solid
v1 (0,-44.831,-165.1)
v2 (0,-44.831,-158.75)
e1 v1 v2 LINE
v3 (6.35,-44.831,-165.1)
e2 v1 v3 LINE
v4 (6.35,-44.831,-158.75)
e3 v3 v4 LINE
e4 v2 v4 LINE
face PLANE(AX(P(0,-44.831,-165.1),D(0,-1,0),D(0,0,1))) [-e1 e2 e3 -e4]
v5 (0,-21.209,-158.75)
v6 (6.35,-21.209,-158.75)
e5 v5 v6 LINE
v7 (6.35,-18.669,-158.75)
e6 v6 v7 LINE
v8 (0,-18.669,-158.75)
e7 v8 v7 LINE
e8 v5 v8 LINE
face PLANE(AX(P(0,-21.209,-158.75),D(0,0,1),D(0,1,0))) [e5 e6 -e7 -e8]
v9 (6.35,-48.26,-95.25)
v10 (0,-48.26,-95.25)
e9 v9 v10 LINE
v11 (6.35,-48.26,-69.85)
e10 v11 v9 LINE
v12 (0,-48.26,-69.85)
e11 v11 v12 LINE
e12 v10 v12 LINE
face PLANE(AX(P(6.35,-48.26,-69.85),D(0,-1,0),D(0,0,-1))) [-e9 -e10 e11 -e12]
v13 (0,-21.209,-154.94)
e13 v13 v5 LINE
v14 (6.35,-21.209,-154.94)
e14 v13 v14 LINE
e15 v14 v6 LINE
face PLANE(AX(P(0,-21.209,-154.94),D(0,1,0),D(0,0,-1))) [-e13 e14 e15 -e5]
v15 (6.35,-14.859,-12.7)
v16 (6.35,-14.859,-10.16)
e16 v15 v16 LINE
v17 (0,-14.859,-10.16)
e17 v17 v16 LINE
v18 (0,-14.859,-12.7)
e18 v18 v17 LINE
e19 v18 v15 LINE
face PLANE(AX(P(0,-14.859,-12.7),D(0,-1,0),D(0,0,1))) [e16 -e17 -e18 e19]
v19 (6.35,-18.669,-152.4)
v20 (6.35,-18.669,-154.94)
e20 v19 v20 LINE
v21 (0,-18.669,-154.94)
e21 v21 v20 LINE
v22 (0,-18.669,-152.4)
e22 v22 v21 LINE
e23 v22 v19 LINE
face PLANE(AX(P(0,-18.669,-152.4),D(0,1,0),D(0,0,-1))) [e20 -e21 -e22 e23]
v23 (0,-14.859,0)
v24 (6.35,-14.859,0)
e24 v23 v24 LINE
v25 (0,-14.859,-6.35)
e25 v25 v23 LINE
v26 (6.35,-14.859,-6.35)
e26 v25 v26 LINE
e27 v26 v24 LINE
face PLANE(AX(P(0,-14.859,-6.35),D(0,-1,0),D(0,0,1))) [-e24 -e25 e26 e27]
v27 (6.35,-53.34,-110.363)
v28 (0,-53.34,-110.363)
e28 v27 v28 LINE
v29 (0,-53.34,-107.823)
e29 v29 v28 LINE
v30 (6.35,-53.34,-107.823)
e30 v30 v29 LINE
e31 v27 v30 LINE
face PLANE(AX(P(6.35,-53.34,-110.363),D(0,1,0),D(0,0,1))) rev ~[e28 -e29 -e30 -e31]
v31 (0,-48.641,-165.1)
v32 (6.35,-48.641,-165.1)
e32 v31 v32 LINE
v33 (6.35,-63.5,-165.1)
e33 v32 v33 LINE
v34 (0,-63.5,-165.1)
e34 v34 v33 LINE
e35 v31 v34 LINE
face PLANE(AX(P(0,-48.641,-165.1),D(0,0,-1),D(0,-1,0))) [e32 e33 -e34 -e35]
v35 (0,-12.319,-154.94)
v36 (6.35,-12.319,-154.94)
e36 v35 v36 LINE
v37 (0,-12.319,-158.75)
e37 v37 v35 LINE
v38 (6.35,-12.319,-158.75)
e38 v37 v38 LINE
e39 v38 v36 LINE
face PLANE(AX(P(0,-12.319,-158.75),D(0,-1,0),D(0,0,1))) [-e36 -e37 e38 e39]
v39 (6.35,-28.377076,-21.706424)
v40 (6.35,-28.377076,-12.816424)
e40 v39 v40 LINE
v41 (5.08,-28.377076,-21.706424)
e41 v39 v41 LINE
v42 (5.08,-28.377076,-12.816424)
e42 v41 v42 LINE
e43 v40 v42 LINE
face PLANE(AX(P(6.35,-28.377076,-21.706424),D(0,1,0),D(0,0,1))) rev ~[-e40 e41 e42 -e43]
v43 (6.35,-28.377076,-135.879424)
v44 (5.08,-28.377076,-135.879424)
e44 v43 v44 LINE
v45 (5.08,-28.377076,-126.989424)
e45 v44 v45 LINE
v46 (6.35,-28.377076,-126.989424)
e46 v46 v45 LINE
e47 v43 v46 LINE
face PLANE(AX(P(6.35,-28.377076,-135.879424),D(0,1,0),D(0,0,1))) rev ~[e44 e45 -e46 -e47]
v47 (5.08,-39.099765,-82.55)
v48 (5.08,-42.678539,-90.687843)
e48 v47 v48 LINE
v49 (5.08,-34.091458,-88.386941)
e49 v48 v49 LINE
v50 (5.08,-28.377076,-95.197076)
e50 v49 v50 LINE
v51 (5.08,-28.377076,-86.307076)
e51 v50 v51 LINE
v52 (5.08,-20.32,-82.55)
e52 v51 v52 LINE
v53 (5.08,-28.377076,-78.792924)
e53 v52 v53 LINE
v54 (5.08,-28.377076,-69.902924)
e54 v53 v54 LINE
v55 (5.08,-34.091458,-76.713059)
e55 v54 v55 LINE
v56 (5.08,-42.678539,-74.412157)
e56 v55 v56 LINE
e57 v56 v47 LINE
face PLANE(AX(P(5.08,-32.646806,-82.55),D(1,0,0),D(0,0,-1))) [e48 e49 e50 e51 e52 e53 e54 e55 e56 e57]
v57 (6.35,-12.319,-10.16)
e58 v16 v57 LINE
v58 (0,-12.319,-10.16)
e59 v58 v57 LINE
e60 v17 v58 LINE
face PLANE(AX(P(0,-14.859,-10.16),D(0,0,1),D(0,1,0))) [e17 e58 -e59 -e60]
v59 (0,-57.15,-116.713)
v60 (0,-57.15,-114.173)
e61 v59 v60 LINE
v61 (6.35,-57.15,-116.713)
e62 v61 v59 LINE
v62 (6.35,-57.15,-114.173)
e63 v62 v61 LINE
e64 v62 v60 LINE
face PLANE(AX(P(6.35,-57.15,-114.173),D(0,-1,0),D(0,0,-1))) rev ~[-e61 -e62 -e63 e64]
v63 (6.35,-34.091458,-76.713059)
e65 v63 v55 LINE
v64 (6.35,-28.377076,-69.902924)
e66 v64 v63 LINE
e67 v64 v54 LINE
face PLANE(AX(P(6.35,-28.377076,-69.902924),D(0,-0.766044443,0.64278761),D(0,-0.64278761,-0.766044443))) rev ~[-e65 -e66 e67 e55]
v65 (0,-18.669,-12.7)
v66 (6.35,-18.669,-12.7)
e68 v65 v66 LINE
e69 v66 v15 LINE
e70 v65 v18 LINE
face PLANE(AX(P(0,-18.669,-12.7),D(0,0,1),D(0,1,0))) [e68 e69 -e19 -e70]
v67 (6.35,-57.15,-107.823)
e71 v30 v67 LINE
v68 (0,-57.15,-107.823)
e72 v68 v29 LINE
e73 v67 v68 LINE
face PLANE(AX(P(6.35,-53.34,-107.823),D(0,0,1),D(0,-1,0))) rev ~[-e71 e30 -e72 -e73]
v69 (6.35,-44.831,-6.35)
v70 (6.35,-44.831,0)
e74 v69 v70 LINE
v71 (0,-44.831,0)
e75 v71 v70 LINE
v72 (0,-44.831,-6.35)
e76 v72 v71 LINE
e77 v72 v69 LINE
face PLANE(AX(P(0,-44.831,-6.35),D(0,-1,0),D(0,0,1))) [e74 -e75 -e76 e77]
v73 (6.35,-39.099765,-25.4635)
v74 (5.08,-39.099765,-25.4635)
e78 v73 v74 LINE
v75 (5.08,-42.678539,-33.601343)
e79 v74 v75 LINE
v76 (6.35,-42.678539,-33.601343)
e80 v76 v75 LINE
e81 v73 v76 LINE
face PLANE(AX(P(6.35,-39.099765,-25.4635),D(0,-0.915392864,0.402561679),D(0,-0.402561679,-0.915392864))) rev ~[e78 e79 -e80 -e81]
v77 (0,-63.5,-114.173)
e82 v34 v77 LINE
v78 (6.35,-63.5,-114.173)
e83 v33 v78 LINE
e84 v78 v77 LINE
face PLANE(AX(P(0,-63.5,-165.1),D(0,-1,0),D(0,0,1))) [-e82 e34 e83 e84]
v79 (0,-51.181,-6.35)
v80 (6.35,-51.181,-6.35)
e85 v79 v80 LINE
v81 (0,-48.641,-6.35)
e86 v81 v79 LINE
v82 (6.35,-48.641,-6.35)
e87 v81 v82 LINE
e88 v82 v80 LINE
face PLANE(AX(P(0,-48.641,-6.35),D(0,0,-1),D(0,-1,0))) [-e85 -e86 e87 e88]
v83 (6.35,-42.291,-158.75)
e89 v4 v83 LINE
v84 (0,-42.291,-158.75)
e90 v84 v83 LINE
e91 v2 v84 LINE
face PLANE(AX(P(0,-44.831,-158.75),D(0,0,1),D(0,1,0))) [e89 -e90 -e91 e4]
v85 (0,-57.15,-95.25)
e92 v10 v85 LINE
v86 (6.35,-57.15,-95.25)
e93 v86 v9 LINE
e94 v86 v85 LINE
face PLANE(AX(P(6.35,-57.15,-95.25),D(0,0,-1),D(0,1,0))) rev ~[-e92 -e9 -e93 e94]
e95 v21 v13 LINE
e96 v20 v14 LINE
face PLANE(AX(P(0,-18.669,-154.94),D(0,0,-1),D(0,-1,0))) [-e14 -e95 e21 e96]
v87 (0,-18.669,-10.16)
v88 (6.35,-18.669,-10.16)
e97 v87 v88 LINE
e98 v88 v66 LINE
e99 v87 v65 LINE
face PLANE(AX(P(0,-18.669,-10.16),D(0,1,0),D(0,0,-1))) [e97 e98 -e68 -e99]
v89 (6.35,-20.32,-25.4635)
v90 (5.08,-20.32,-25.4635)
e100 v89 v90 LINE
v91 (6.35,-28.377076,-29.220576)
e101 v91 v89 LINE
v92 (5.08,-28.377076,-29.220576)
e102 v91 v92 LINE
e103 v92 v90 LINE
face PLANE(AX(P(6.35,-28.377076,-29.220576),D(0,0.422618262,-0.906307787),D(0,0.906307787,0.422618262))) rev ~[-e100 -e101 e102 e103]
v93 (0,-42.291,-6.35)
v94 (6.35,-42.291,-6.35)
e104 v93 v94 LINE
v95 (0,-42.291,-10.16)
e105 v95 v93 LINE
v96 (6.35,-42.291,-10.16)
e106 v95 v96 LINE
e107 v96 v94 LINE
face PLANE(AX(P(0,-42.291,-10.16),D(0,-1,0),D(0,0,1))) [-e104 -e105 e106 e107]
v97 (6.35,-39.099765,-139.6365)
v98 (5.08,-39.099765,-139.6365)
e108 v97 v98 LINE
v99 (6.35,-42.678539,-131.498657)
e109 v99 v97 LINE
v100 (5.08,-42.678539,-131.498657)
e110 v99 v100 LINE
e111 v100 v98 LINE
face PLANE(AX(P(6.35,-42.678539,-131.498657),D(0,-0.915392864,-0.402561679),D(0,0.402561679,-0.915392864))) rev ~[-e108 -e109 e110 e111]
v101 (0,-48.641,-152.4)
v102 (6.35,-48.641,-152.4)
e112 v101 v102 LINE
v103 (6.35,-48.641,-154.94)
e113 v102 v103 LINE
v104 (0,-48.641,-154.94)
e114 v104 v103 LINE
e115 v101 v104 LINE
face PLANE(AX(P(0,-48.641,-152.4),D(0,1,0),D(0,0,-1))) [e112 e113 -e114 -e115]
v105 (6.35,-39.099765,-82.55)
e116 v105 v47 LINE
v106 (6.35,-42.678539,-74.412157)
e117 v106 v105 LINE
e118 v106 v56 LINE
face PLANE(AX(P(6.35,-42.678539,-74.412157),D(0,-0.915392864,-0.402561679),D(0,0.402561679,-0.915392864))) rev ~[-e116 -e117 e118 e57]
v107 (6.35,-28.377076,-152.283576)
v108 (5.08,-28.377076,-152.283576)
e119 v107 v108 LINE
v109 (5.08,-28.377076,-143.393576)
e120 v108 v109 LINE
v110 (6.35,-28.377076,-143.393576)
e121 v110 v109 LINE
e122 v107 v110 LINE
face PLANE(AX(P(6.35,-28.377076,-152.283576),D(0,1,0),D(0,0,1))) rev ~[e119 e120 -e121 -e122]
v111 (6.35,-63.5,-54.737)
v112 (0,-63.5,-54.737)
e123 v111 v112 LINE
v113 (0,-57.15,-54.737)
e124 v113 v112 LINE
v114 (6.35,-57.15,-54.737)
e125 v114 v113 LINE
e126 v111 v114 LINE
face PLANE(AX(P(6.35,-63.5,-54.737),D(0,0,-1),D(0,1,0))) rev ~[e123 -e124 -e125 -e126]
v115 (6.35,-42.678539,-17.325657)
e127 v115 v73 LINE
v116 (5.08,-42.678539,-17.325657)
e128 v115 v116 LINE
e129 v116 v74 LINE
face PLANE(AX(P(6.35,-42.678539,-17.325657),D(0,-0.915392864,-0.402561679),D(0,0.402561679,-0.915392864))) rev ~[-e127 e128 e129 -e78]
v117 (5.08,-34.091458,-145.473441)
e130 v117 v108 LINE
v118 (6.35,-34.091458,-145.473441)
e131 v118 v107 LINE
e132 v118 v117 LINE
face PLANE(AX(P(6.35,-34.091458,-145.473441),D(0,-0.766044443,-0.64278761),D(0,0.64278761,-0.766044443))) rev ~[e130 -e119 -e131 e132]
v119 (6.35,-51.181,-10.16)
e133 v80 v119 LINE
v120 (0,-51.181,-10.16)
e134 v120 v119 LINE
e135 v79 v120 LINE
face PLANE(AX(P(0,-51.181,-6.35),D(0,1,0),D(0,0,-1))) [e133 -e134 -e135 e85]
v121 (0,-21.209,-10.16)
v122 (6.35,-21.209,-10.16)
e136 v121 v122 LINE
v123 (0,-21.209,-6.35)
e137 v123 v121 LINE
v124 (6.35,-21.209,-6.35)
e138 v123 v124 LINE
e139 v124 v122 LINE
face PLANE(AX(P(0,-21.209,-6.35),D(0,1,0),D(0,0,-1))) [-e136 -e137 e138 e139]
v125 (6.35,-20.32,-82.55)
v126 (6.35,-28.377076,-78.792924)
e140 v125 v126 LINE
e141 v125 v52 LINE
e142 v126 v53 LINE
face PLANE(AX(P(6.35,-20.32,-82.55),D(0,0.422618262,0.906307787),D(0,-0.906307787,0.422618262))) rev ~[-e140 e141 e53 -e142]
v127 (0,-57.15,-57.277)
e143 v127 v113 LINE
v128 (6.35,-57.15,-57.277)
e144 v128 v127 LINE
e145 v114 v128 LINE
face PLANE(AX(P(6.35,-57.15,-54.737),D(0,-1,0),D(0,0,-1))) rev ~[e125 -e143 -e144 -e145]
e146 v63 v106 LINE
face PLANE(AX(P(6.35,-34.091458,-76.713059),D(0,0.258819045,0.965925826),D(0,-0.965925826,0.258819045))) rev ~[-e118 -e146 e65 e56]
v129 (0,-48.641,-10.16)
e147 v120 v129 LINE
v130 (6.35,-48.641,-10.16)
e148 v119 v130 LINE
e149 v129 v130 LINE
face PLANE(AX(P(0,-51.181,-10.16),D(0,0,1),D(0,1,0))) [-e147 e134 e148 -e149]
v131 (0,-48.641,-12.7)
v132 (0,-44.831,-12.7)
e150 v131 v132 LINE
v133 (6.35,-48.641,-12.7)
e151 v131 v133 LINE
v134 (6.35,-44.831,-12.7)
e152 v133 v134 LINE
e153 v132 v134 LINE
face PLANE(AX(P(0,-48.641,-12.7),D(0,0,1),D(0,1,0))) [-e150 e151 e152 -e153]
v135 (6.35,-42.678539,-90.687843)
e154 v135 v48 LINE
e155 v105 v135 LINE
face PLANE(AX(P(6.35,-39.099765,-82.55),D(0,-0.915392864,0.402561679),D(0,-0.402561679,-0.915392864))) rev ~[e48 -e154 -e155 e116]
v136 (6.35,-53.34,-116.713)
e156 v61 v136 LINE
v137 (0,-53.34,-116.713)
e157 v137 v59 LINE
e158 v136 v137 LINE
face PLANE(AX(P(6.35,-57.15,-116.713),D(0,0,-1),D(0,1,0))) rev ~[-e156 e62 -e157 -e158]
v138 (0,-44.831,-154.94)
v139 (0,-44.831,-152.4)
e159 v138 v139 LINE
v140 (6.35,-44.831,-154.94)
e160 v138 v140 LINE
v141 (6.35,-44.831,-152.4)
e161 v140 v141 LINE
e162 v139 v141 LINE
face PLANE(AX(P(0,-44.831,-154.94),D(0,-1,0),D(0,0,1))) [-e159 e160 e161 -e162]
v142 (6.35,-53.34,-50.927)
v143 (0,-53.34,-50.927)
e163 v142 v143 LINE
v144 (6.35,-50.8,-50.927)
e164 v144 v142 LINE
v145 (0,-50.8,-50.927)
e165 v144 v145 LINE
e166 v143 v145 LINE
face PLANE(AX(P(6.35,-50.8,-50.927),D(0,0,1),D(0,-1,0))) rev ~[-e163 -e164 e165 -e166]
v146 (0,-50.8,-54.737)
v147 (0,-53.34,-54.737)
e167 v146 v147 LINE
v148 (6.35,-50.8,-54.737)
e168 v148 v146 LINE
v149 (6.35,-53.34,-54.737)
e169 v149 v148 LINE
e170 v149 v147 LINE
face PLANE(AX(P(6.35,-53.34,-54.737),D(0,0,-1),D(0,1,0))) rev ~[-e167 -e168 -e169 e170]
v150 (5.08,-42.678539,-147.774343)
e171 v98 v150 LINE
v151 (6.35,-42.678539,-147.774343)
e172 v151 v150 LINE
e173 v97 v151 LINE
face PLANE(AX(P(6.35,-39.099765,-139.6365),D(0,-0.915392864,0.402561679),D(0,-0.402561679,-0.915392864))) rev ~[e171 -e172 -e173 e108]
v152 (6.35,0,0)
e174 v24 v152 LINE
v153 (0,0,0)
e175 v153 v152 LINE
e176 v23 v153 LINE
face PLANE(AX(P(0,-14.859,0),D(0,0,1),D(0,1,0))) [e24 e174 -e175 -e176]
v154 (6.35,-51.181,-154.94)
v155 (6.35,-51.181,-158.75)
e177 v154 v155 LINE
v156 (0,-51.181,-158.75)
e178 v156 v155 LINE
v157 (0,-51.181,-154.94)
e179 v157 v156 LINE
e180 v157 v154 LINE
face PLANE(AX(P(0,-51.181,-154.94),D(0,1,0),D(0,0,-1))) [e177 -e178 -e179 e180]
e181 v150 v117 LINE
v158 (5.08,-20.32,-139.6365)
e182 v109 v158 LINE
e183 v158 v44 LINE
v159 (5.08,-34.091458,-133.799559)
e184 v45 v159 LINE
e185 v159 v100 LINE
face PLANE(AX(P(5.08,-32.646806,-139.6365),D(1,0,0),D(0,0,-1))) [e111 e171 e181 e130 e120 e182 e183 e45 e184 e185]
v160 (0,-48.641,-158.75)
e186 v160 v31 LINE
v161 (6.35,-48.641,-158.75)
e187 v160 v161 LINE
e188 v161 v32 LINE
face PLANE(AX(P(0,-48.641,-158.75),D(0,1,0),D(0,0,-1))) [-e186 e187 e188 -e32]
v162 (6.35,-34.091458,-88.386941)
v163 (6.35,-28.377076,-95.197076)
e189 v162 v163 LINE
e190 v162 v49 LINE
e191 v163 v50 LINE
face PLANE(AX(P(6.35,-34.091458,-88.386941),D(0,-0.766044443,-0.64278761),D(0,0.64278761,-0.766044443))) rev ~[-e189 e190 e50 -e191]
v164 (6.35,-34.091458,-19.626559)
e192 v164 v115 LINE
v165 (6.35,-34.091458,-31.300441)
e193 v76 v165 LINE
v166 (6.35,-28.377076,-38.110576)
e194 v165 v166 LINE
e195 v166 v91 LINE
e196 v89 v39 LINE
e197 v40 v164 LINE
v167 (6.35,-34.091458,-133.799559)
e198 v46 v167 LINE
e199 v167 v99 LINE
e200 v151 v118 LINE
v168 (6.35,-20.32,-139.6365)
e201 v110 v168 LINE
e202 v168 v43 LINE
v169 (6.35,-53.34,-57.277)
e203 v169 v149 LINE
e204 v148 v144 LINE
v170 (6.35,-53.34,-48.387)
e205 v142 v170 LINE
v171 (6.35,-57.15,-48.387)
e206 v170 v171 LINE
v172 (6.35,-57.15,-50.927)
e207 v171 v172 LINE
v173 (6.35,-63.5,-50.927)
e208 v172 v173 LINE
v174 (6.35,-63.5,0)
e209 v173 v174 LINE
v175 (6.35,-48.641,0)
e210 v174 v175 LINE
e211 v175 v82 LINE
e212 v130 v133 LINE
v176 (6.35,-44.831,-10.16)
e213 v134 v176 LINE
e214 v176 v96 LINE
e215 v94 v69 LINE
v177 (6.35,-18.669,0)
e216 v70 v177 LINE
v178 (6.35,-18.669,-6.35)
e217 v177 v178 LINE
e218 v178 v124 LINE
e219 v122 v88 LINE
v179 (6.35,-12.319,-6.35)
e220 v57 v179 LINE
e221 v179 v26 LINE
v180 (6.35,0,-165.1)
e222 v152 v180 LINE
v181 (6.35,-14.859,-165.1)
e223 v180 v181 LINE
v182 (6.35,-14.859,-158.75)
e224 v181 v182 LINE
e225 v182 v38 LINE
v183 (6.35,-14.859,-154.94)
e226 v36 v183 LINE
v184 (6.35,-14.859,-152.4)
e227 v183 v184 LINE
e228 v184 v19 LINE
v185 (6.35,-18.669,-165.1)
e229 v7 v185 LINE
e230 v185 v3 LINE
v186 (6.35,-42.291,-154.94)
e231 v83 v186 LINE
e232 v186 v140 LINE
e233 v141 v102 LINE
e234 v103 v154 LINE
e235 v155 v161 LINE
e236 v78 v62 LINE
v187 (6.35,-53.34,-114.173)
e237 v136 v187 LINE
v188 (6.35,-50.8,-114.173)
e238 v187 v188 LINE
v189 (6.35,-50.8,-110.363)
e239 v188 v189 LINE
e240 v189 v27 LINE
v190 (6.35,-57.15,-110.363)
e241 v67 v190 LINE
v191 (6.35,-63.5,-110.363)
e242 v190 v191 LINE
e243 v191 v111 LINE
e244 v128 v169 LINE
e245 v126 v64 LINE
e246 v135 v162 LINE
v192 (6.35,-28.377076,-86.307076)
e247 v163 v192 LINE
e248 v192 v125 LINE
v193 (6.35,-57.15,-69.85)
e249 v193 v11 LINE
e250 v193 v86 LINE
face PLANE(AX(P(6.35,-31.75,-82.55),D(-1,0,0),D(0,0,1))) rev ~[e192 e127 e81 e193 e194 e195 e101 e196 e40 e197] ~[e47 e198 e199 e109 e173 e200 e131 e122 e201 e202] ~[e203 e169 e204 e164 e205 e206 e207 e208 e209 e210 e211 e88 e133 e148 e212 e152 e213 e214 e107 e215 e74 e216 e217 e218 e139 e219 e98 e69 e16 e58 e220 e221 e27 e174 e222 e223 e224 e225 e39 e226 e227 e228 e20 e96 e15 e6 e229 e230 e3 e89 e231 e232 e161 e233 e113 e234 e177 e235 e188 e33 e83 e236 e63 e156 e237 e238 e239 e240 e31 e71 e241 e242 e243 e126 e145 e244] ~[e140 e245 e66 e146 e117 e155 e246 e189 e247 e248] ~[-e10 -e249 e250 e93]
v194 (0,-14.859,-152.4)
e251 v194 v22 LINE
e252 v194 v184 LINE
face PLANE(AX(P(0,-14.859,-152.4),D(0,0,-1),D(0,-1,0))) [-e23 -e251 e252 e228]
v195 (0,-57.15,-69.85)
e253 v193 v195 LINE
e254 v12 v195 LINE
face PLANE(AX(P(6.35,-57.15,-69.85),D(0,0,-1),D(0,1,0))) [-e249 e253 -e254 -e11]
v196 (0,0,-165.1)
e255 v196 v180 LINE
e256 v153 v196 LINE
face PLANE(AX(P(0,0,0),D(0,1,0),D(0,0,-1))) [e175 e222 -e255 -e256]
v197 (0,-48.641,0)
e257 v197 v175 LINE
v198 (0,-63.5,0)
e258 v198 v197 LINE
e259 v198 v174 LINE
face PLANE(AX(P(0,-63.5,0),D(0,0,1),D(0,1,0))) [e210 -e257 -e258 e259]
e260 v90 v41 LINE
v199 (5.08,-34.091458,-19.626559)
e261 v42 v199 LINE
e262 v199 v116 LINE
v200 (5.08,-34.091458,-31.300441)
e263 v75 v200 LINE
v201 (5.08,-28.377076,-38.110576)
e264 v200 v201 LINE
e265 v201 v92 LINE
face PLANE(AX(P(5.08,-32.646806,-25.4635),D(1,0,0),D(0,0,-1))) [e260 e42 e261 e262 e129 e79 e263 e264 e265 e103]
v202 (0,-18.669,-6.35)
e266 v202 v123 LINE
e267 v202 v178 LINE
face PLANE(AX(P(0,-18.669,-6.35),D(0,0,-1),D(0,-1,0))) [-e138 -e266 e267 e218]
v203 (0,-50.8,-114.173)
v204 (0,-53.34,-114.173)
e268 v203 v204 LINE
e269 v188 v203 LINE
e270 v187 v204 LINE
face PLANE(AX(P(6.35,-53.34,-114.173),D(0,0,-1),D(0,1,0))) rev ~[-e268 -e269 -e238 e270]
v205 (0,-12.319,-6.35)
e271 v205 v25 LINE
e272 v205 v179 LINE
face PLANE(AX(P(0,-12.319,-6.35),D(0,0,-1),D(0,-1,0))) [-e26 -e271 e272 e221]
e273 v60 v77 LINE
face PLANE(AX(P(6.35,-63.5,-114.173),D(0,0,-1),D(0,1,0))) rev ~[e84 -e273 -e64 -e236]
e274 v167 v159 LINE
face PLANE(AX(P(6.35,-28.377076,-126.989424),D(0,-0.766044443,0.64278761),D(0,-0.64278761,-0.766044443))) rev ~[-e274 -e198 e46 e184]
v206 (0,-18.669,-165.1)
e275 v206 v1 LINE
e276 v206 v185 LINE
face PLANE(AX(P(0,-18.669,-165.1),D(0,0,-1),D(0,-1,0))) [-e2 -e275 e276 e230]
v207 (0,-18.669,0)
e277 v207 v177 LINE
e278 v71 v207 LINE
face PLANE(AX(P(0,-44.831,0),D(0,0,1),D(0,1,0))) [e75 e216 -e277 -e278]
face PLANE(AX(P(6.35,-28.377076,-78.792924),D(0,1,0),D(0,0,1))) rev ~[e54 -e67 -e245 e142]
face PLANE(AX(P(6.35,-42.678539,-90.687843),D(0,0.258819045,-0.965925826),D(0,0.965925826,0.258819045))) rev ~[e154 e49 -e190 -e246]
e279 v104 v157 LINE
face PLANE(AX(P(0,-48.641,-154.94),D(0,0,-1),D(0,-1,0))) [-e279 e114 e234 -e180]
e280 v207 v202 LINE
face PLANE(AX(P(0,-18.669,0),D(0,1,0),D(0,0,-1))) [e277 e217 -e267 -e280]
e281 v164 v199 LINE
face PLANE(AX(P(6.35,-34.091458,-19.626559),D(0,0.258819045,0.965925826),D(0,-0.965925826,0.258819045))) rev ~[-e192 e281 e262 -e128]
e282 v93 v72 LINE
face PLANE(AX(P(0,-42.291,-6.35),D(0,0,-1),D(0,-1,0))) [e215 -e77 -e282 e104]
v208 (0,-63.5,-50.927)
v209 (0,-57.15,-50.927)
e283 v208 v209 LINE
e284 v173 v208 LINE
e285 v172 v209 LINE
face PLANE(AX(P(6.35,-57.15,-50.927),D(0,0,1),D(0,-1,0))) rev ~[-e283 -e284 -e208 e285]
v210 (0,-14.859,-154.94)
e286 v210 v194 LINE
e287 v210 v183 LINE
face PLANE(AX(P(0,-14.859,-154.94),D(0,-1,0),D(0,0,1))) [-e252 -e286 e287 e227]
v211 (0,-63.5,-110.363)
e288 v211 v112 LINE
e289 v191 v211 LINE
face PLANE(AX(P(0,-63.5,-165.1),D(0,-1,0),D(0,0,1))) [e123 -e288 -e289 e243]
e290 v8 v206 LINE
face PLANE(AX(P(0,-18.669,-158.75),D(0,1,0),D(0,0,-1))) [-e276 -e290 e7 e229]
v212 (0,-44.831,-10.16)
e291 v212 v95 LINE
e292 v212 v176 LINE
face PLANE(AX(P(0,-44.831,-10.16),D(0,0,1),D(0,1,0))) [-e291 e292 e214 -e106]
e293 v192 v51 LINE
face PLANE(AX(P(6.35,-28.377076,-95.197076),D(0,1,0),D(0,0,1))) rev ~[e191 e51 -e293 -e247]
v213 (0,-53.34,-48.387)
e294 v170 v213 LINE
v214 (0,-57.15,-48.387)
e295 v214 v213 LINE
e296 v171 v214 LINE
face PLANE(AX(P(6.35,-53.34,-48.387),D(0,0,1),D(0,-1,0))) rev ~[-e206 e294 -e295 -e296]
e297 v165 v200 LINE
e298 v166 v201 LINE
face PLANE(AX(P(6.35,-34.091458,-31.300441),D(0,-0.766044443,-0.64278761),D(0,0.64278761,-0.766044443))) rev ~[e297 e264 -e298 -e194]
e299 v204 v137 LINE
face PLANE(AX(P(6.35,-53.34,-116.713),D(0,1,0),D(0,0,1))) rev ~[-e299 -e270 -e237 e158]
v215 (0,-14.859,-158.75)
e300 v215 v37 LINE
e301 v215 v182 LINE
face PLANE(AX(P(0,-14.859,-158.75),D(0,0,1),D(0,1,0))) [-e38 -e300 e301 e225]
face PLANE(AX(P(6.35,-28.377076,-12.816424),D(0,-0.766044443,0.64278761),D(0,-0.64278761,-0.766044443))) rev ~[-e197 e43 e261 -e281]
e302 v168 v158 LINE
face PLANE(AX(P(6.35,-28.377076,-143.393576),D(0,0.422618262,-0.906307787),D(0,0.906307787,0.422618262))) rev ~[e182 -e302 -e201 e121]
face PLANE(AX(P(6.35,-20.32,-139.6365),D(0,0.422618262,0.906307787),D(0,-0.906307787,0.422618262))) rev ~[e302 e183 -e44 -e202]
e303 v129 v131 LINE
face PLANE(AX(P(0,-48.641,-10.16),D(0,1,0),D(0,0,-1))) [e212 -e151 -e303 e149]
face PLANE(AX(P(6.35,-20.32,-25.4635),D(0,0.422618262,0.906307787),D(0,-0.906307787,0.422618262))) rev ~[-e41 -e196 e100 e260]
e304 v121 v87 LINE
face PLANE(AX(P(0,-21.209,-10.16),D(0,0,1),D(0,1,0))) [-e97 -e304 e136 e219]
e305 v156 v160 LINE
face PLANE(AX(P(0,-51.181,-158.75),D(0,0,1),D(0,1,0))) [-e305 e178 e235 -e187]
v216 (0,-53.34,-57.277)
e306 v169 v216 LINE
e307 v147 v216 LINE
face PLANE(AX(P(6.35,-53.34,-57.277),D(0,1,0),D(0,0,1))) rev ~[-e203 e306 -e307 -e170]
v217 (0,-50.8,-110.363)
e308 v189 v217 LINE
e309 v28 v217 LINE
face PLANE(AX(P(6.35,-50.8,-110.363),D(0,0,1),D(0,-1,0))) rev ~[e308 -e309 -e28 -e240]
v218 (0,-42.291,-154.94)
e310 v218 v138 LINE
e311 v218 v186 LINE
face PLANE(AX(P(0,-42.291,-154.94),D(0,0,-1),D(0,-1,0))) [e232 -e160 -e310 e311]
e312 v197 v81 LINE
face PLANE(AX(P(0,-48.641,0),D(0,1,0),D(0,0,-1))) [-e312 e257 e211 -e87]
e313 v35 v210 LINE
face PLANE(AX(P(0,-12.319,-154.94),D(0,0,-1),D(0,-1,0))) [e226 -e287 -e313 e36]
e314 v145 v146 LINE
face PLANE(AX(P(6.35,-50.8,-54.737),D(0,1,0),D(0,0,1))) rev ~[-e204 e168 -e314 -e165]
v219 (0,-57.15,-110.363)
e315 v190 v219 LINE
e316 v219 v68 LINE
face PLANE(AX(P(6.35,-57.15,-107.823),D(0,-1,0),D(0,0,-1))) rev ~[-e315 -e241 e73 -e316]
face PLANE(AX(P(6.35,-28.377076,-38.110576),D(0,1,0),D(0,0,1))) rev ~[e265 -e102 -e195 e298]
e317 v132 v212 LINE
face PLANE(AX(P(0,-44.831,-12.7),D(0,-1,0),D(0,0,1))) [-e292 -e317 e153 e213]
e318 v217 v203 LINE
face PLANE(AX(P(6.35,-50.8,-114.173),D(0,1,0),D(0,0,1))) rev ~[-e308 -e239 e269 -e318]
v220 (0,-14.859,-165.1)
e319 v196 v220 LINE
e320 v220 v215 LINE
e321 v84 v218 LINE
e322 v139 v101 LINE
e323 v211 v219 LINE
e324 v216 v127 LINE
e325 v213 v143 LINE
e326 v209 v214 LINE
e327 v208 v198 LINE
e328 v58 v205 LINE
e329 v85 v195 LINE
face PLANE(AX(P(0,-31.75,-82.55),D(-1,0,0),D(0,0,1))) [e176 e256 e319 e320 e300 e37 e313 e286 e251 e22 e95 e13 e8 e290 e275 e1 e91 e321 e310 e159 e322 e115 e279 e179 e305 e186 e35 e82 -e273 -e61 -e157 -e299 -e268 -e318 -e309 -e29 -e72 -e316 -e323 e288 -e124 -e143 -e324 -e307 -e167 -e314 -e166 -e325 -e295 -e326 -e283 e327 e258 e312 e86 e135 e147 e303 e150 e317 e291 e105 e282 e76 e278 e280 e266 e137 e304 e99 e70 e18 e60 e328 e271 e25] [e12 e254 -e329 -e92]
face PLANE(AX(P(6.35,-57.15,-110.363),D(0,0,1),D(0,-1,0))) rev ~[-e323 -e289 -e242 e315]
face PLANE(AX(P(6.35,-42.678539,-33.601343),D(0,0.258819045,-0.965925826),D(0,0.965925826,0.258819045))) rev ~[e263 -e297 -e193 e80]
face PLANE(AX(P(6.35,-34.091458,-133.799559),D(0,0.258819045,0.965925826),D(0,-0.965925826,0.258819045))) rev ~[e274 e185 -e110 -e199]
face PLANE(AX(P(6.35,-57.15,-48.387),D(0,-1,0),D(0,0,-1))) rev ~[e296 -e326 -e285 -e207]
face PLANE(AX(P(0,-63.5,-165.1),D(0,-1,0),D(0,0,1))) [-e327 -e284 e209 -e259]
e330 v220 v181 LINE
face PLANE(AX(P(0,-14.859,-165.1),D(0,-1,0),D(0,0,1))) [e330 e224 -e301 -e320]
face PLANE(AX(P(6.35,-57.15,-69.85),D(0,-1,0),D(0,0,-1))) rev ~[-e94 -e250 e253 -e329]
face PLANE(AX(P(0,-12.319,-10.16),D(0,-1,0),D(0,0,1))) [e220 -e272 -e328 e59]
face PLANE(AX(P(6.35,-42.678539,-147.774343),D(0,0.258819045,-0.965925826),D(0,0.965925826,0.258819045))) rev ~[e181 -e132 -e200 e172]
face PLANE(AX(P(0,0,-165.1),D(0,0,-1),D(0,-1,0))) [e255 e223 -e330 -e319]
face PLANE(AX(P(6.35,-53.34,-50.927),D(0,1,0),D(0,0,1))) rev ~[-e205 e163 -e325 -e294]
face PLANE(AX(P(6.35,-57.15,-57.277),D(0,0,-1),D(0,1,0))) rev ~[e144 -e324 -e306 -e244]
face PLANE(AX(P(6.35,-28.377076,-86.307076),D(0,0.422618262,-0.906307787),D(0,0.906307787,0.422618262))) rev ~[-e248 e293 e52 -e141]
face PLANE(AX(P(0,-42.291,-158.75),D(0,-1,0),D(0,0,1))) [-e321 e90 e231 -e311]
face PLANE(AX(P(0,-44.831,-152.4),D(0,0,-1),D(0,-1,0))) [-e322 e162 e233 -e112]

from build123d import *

# Parameters (mm, degrees)
BOSS_EXTRUDE1_DEPTH = 6.35
CUT_EXTRUDE1_DEPTH  = 178.004470283
CUT_EXTRUDE2_DEPTH  = 1.27
SKETCH4_W           = 25.4
SKETCH4_H           = 8.89
CUT_EXTRUDE3_DEPTH  = 178.004470283


with BuildPart() as part:
    # Sketch1 → Boss-Extrude1 (new body)
    with BuildSketch(Plane(origin=(0, 0, 0), x_dir=(0, 0, -1), z_dir=(1, 0, 0))):
        Polygon((0, 0), (165.1, 0), (165.1, -14.859), (158.75, -14.859), (158.75, -12.319), (154.94, -12.319), (154.94, -14.859), (152.4, -14.859), (152.4, -18.669), (154.94, -18.669), (154.94, -21.209), (158.75, -21.209), (158.75, -18.669), (165.1, -18.669), (165.1, -44.831), (158.75, -44.831), (158.75, -42.291), (154.94, -42.291), (154.94, -44.831), (152.4, -44.831), (152.4, -48.641), (154.94, -48.641), (154.94, -51.181), (158.75, -51.181), (158.75, -48.641), (165.1, -48.641), (165.1, -63.5), (0, -63.5), (0, -48.641), (6.35, -48.641), (6.35, -51.181), (10.16, -51.181), (10.16, -48.641), (12.7, -48.641), (12.7, -44.831), (10.16, -44.831), (10.16, -42.291), (6.35, -42.291), (6.35, -44.831), (0, -44.831), (0, -18.669), (6.35, -18.669), (6.35, -21.209), (10.16, -21.209), (10.16, -18.669), (12.7, -18.669), (12.7, -14.859), (10.16, -14.859), (10.16, -12.319), (6.35, -12.319), (6.35, -14.859), (0, -14.859), align=None)
    extrude(amount=BOSS_EXTRUDE1_DEPTH)

    # Sketch2 → Cut-Extrude1 (cut, through all)
    with BuildSketch(Plane(origin=(6.35, 0, 0), x_dir=(0, 0, -1), z_dir=(1, 0, 0))):
        Polygon((50.927, -63.5), (54.737, -63.5), (54.737, -57.15), (57.277, -57.15), (57.277, -53.34), (54.737, -53.34), (54.737, -50.8), (50.927, -50.8), (50.927, -53.34), (48.387, -53.34), (48.387, -57.15), (50.927, -57.15), align=None)
        Polygon((110.363, -63.5), (114.173, -63.5), (114.173, -57.15), (116.713, -57.15), (116.713, -53.34), (114.173, -53.34), (114.173, -50.8), (110.363, -50.8), (110.363, -53.34), (107.823, -53.34), (107.823, -57.15), (110.363, -57.15), align=None)
    extrude(amount=-CUT_EXTRUDE1_DEPTH, mode=Mode.SUBTRACT)

    # Sketch3 → Cut-Extrude2 (cut)
    with BuildSketch(Plane(origin=(6.35, 0, 0), x_dir=(0, 0, -1), z_dir=(1, 0, 0))):
        Polygon((82.55, -20.32), (78.792923653, -28.377076227), (69.902923653, -28.377076227), (76.713058752, -34.091458077), (74.412157441, -42.678538673), (82.55, -39.09976535), (90.687842559, -42.678538673), (88.386941248, -34.091458077), (95.197076347, -28.377076227), (86.307076347, -28.377076227), align=None)
        Polygon((25.4635, -20.32), (21.706423653, -28.377076227), (12.816423653, -28.377076227), (19.626558752, -34.091458077), (17.325657441, -42.678538673), (25.4635, -39.09976535), (33.601342559, -42.678538673), (31.300441248, -34.091458077), (38.110576347, -28.377076227), (29.220576347, -28.377076227), align=None)
        Polygon((139.6365, -20.32), (135.879423653, -28.377076227), (126.989423653, -28.377076227), (133.799558752, -34.091458077), (131.498657441, -42.678538673), (139.6365, -39.09976535), (147.774342559, -42.678538673), (145.473441248, -34.091458077), (152.283576347, -28.377076227), (143.393576347, -28.377076227), align=None)
    extrude(amount=-CUT_EXTRUDE2_DEPTH, mode=Mode.SUBTRACT)

    # Sketch4 → Cut-Extrude3 (cut, through all)
    with BuildSketch(Plane(origin=(6.35, 0, 0), x_dir=(0, 0, -1), z_dir=(1, 0, 0))):
        with Locations((82.55, -52.705)):
            Rectangle(SKETCH4_W, SKETCH4_H)
    extrude(amount=-CUT_EXTRUDE3_DEPTH, mode=Mode.SUBTRACT)


solid = part.part
